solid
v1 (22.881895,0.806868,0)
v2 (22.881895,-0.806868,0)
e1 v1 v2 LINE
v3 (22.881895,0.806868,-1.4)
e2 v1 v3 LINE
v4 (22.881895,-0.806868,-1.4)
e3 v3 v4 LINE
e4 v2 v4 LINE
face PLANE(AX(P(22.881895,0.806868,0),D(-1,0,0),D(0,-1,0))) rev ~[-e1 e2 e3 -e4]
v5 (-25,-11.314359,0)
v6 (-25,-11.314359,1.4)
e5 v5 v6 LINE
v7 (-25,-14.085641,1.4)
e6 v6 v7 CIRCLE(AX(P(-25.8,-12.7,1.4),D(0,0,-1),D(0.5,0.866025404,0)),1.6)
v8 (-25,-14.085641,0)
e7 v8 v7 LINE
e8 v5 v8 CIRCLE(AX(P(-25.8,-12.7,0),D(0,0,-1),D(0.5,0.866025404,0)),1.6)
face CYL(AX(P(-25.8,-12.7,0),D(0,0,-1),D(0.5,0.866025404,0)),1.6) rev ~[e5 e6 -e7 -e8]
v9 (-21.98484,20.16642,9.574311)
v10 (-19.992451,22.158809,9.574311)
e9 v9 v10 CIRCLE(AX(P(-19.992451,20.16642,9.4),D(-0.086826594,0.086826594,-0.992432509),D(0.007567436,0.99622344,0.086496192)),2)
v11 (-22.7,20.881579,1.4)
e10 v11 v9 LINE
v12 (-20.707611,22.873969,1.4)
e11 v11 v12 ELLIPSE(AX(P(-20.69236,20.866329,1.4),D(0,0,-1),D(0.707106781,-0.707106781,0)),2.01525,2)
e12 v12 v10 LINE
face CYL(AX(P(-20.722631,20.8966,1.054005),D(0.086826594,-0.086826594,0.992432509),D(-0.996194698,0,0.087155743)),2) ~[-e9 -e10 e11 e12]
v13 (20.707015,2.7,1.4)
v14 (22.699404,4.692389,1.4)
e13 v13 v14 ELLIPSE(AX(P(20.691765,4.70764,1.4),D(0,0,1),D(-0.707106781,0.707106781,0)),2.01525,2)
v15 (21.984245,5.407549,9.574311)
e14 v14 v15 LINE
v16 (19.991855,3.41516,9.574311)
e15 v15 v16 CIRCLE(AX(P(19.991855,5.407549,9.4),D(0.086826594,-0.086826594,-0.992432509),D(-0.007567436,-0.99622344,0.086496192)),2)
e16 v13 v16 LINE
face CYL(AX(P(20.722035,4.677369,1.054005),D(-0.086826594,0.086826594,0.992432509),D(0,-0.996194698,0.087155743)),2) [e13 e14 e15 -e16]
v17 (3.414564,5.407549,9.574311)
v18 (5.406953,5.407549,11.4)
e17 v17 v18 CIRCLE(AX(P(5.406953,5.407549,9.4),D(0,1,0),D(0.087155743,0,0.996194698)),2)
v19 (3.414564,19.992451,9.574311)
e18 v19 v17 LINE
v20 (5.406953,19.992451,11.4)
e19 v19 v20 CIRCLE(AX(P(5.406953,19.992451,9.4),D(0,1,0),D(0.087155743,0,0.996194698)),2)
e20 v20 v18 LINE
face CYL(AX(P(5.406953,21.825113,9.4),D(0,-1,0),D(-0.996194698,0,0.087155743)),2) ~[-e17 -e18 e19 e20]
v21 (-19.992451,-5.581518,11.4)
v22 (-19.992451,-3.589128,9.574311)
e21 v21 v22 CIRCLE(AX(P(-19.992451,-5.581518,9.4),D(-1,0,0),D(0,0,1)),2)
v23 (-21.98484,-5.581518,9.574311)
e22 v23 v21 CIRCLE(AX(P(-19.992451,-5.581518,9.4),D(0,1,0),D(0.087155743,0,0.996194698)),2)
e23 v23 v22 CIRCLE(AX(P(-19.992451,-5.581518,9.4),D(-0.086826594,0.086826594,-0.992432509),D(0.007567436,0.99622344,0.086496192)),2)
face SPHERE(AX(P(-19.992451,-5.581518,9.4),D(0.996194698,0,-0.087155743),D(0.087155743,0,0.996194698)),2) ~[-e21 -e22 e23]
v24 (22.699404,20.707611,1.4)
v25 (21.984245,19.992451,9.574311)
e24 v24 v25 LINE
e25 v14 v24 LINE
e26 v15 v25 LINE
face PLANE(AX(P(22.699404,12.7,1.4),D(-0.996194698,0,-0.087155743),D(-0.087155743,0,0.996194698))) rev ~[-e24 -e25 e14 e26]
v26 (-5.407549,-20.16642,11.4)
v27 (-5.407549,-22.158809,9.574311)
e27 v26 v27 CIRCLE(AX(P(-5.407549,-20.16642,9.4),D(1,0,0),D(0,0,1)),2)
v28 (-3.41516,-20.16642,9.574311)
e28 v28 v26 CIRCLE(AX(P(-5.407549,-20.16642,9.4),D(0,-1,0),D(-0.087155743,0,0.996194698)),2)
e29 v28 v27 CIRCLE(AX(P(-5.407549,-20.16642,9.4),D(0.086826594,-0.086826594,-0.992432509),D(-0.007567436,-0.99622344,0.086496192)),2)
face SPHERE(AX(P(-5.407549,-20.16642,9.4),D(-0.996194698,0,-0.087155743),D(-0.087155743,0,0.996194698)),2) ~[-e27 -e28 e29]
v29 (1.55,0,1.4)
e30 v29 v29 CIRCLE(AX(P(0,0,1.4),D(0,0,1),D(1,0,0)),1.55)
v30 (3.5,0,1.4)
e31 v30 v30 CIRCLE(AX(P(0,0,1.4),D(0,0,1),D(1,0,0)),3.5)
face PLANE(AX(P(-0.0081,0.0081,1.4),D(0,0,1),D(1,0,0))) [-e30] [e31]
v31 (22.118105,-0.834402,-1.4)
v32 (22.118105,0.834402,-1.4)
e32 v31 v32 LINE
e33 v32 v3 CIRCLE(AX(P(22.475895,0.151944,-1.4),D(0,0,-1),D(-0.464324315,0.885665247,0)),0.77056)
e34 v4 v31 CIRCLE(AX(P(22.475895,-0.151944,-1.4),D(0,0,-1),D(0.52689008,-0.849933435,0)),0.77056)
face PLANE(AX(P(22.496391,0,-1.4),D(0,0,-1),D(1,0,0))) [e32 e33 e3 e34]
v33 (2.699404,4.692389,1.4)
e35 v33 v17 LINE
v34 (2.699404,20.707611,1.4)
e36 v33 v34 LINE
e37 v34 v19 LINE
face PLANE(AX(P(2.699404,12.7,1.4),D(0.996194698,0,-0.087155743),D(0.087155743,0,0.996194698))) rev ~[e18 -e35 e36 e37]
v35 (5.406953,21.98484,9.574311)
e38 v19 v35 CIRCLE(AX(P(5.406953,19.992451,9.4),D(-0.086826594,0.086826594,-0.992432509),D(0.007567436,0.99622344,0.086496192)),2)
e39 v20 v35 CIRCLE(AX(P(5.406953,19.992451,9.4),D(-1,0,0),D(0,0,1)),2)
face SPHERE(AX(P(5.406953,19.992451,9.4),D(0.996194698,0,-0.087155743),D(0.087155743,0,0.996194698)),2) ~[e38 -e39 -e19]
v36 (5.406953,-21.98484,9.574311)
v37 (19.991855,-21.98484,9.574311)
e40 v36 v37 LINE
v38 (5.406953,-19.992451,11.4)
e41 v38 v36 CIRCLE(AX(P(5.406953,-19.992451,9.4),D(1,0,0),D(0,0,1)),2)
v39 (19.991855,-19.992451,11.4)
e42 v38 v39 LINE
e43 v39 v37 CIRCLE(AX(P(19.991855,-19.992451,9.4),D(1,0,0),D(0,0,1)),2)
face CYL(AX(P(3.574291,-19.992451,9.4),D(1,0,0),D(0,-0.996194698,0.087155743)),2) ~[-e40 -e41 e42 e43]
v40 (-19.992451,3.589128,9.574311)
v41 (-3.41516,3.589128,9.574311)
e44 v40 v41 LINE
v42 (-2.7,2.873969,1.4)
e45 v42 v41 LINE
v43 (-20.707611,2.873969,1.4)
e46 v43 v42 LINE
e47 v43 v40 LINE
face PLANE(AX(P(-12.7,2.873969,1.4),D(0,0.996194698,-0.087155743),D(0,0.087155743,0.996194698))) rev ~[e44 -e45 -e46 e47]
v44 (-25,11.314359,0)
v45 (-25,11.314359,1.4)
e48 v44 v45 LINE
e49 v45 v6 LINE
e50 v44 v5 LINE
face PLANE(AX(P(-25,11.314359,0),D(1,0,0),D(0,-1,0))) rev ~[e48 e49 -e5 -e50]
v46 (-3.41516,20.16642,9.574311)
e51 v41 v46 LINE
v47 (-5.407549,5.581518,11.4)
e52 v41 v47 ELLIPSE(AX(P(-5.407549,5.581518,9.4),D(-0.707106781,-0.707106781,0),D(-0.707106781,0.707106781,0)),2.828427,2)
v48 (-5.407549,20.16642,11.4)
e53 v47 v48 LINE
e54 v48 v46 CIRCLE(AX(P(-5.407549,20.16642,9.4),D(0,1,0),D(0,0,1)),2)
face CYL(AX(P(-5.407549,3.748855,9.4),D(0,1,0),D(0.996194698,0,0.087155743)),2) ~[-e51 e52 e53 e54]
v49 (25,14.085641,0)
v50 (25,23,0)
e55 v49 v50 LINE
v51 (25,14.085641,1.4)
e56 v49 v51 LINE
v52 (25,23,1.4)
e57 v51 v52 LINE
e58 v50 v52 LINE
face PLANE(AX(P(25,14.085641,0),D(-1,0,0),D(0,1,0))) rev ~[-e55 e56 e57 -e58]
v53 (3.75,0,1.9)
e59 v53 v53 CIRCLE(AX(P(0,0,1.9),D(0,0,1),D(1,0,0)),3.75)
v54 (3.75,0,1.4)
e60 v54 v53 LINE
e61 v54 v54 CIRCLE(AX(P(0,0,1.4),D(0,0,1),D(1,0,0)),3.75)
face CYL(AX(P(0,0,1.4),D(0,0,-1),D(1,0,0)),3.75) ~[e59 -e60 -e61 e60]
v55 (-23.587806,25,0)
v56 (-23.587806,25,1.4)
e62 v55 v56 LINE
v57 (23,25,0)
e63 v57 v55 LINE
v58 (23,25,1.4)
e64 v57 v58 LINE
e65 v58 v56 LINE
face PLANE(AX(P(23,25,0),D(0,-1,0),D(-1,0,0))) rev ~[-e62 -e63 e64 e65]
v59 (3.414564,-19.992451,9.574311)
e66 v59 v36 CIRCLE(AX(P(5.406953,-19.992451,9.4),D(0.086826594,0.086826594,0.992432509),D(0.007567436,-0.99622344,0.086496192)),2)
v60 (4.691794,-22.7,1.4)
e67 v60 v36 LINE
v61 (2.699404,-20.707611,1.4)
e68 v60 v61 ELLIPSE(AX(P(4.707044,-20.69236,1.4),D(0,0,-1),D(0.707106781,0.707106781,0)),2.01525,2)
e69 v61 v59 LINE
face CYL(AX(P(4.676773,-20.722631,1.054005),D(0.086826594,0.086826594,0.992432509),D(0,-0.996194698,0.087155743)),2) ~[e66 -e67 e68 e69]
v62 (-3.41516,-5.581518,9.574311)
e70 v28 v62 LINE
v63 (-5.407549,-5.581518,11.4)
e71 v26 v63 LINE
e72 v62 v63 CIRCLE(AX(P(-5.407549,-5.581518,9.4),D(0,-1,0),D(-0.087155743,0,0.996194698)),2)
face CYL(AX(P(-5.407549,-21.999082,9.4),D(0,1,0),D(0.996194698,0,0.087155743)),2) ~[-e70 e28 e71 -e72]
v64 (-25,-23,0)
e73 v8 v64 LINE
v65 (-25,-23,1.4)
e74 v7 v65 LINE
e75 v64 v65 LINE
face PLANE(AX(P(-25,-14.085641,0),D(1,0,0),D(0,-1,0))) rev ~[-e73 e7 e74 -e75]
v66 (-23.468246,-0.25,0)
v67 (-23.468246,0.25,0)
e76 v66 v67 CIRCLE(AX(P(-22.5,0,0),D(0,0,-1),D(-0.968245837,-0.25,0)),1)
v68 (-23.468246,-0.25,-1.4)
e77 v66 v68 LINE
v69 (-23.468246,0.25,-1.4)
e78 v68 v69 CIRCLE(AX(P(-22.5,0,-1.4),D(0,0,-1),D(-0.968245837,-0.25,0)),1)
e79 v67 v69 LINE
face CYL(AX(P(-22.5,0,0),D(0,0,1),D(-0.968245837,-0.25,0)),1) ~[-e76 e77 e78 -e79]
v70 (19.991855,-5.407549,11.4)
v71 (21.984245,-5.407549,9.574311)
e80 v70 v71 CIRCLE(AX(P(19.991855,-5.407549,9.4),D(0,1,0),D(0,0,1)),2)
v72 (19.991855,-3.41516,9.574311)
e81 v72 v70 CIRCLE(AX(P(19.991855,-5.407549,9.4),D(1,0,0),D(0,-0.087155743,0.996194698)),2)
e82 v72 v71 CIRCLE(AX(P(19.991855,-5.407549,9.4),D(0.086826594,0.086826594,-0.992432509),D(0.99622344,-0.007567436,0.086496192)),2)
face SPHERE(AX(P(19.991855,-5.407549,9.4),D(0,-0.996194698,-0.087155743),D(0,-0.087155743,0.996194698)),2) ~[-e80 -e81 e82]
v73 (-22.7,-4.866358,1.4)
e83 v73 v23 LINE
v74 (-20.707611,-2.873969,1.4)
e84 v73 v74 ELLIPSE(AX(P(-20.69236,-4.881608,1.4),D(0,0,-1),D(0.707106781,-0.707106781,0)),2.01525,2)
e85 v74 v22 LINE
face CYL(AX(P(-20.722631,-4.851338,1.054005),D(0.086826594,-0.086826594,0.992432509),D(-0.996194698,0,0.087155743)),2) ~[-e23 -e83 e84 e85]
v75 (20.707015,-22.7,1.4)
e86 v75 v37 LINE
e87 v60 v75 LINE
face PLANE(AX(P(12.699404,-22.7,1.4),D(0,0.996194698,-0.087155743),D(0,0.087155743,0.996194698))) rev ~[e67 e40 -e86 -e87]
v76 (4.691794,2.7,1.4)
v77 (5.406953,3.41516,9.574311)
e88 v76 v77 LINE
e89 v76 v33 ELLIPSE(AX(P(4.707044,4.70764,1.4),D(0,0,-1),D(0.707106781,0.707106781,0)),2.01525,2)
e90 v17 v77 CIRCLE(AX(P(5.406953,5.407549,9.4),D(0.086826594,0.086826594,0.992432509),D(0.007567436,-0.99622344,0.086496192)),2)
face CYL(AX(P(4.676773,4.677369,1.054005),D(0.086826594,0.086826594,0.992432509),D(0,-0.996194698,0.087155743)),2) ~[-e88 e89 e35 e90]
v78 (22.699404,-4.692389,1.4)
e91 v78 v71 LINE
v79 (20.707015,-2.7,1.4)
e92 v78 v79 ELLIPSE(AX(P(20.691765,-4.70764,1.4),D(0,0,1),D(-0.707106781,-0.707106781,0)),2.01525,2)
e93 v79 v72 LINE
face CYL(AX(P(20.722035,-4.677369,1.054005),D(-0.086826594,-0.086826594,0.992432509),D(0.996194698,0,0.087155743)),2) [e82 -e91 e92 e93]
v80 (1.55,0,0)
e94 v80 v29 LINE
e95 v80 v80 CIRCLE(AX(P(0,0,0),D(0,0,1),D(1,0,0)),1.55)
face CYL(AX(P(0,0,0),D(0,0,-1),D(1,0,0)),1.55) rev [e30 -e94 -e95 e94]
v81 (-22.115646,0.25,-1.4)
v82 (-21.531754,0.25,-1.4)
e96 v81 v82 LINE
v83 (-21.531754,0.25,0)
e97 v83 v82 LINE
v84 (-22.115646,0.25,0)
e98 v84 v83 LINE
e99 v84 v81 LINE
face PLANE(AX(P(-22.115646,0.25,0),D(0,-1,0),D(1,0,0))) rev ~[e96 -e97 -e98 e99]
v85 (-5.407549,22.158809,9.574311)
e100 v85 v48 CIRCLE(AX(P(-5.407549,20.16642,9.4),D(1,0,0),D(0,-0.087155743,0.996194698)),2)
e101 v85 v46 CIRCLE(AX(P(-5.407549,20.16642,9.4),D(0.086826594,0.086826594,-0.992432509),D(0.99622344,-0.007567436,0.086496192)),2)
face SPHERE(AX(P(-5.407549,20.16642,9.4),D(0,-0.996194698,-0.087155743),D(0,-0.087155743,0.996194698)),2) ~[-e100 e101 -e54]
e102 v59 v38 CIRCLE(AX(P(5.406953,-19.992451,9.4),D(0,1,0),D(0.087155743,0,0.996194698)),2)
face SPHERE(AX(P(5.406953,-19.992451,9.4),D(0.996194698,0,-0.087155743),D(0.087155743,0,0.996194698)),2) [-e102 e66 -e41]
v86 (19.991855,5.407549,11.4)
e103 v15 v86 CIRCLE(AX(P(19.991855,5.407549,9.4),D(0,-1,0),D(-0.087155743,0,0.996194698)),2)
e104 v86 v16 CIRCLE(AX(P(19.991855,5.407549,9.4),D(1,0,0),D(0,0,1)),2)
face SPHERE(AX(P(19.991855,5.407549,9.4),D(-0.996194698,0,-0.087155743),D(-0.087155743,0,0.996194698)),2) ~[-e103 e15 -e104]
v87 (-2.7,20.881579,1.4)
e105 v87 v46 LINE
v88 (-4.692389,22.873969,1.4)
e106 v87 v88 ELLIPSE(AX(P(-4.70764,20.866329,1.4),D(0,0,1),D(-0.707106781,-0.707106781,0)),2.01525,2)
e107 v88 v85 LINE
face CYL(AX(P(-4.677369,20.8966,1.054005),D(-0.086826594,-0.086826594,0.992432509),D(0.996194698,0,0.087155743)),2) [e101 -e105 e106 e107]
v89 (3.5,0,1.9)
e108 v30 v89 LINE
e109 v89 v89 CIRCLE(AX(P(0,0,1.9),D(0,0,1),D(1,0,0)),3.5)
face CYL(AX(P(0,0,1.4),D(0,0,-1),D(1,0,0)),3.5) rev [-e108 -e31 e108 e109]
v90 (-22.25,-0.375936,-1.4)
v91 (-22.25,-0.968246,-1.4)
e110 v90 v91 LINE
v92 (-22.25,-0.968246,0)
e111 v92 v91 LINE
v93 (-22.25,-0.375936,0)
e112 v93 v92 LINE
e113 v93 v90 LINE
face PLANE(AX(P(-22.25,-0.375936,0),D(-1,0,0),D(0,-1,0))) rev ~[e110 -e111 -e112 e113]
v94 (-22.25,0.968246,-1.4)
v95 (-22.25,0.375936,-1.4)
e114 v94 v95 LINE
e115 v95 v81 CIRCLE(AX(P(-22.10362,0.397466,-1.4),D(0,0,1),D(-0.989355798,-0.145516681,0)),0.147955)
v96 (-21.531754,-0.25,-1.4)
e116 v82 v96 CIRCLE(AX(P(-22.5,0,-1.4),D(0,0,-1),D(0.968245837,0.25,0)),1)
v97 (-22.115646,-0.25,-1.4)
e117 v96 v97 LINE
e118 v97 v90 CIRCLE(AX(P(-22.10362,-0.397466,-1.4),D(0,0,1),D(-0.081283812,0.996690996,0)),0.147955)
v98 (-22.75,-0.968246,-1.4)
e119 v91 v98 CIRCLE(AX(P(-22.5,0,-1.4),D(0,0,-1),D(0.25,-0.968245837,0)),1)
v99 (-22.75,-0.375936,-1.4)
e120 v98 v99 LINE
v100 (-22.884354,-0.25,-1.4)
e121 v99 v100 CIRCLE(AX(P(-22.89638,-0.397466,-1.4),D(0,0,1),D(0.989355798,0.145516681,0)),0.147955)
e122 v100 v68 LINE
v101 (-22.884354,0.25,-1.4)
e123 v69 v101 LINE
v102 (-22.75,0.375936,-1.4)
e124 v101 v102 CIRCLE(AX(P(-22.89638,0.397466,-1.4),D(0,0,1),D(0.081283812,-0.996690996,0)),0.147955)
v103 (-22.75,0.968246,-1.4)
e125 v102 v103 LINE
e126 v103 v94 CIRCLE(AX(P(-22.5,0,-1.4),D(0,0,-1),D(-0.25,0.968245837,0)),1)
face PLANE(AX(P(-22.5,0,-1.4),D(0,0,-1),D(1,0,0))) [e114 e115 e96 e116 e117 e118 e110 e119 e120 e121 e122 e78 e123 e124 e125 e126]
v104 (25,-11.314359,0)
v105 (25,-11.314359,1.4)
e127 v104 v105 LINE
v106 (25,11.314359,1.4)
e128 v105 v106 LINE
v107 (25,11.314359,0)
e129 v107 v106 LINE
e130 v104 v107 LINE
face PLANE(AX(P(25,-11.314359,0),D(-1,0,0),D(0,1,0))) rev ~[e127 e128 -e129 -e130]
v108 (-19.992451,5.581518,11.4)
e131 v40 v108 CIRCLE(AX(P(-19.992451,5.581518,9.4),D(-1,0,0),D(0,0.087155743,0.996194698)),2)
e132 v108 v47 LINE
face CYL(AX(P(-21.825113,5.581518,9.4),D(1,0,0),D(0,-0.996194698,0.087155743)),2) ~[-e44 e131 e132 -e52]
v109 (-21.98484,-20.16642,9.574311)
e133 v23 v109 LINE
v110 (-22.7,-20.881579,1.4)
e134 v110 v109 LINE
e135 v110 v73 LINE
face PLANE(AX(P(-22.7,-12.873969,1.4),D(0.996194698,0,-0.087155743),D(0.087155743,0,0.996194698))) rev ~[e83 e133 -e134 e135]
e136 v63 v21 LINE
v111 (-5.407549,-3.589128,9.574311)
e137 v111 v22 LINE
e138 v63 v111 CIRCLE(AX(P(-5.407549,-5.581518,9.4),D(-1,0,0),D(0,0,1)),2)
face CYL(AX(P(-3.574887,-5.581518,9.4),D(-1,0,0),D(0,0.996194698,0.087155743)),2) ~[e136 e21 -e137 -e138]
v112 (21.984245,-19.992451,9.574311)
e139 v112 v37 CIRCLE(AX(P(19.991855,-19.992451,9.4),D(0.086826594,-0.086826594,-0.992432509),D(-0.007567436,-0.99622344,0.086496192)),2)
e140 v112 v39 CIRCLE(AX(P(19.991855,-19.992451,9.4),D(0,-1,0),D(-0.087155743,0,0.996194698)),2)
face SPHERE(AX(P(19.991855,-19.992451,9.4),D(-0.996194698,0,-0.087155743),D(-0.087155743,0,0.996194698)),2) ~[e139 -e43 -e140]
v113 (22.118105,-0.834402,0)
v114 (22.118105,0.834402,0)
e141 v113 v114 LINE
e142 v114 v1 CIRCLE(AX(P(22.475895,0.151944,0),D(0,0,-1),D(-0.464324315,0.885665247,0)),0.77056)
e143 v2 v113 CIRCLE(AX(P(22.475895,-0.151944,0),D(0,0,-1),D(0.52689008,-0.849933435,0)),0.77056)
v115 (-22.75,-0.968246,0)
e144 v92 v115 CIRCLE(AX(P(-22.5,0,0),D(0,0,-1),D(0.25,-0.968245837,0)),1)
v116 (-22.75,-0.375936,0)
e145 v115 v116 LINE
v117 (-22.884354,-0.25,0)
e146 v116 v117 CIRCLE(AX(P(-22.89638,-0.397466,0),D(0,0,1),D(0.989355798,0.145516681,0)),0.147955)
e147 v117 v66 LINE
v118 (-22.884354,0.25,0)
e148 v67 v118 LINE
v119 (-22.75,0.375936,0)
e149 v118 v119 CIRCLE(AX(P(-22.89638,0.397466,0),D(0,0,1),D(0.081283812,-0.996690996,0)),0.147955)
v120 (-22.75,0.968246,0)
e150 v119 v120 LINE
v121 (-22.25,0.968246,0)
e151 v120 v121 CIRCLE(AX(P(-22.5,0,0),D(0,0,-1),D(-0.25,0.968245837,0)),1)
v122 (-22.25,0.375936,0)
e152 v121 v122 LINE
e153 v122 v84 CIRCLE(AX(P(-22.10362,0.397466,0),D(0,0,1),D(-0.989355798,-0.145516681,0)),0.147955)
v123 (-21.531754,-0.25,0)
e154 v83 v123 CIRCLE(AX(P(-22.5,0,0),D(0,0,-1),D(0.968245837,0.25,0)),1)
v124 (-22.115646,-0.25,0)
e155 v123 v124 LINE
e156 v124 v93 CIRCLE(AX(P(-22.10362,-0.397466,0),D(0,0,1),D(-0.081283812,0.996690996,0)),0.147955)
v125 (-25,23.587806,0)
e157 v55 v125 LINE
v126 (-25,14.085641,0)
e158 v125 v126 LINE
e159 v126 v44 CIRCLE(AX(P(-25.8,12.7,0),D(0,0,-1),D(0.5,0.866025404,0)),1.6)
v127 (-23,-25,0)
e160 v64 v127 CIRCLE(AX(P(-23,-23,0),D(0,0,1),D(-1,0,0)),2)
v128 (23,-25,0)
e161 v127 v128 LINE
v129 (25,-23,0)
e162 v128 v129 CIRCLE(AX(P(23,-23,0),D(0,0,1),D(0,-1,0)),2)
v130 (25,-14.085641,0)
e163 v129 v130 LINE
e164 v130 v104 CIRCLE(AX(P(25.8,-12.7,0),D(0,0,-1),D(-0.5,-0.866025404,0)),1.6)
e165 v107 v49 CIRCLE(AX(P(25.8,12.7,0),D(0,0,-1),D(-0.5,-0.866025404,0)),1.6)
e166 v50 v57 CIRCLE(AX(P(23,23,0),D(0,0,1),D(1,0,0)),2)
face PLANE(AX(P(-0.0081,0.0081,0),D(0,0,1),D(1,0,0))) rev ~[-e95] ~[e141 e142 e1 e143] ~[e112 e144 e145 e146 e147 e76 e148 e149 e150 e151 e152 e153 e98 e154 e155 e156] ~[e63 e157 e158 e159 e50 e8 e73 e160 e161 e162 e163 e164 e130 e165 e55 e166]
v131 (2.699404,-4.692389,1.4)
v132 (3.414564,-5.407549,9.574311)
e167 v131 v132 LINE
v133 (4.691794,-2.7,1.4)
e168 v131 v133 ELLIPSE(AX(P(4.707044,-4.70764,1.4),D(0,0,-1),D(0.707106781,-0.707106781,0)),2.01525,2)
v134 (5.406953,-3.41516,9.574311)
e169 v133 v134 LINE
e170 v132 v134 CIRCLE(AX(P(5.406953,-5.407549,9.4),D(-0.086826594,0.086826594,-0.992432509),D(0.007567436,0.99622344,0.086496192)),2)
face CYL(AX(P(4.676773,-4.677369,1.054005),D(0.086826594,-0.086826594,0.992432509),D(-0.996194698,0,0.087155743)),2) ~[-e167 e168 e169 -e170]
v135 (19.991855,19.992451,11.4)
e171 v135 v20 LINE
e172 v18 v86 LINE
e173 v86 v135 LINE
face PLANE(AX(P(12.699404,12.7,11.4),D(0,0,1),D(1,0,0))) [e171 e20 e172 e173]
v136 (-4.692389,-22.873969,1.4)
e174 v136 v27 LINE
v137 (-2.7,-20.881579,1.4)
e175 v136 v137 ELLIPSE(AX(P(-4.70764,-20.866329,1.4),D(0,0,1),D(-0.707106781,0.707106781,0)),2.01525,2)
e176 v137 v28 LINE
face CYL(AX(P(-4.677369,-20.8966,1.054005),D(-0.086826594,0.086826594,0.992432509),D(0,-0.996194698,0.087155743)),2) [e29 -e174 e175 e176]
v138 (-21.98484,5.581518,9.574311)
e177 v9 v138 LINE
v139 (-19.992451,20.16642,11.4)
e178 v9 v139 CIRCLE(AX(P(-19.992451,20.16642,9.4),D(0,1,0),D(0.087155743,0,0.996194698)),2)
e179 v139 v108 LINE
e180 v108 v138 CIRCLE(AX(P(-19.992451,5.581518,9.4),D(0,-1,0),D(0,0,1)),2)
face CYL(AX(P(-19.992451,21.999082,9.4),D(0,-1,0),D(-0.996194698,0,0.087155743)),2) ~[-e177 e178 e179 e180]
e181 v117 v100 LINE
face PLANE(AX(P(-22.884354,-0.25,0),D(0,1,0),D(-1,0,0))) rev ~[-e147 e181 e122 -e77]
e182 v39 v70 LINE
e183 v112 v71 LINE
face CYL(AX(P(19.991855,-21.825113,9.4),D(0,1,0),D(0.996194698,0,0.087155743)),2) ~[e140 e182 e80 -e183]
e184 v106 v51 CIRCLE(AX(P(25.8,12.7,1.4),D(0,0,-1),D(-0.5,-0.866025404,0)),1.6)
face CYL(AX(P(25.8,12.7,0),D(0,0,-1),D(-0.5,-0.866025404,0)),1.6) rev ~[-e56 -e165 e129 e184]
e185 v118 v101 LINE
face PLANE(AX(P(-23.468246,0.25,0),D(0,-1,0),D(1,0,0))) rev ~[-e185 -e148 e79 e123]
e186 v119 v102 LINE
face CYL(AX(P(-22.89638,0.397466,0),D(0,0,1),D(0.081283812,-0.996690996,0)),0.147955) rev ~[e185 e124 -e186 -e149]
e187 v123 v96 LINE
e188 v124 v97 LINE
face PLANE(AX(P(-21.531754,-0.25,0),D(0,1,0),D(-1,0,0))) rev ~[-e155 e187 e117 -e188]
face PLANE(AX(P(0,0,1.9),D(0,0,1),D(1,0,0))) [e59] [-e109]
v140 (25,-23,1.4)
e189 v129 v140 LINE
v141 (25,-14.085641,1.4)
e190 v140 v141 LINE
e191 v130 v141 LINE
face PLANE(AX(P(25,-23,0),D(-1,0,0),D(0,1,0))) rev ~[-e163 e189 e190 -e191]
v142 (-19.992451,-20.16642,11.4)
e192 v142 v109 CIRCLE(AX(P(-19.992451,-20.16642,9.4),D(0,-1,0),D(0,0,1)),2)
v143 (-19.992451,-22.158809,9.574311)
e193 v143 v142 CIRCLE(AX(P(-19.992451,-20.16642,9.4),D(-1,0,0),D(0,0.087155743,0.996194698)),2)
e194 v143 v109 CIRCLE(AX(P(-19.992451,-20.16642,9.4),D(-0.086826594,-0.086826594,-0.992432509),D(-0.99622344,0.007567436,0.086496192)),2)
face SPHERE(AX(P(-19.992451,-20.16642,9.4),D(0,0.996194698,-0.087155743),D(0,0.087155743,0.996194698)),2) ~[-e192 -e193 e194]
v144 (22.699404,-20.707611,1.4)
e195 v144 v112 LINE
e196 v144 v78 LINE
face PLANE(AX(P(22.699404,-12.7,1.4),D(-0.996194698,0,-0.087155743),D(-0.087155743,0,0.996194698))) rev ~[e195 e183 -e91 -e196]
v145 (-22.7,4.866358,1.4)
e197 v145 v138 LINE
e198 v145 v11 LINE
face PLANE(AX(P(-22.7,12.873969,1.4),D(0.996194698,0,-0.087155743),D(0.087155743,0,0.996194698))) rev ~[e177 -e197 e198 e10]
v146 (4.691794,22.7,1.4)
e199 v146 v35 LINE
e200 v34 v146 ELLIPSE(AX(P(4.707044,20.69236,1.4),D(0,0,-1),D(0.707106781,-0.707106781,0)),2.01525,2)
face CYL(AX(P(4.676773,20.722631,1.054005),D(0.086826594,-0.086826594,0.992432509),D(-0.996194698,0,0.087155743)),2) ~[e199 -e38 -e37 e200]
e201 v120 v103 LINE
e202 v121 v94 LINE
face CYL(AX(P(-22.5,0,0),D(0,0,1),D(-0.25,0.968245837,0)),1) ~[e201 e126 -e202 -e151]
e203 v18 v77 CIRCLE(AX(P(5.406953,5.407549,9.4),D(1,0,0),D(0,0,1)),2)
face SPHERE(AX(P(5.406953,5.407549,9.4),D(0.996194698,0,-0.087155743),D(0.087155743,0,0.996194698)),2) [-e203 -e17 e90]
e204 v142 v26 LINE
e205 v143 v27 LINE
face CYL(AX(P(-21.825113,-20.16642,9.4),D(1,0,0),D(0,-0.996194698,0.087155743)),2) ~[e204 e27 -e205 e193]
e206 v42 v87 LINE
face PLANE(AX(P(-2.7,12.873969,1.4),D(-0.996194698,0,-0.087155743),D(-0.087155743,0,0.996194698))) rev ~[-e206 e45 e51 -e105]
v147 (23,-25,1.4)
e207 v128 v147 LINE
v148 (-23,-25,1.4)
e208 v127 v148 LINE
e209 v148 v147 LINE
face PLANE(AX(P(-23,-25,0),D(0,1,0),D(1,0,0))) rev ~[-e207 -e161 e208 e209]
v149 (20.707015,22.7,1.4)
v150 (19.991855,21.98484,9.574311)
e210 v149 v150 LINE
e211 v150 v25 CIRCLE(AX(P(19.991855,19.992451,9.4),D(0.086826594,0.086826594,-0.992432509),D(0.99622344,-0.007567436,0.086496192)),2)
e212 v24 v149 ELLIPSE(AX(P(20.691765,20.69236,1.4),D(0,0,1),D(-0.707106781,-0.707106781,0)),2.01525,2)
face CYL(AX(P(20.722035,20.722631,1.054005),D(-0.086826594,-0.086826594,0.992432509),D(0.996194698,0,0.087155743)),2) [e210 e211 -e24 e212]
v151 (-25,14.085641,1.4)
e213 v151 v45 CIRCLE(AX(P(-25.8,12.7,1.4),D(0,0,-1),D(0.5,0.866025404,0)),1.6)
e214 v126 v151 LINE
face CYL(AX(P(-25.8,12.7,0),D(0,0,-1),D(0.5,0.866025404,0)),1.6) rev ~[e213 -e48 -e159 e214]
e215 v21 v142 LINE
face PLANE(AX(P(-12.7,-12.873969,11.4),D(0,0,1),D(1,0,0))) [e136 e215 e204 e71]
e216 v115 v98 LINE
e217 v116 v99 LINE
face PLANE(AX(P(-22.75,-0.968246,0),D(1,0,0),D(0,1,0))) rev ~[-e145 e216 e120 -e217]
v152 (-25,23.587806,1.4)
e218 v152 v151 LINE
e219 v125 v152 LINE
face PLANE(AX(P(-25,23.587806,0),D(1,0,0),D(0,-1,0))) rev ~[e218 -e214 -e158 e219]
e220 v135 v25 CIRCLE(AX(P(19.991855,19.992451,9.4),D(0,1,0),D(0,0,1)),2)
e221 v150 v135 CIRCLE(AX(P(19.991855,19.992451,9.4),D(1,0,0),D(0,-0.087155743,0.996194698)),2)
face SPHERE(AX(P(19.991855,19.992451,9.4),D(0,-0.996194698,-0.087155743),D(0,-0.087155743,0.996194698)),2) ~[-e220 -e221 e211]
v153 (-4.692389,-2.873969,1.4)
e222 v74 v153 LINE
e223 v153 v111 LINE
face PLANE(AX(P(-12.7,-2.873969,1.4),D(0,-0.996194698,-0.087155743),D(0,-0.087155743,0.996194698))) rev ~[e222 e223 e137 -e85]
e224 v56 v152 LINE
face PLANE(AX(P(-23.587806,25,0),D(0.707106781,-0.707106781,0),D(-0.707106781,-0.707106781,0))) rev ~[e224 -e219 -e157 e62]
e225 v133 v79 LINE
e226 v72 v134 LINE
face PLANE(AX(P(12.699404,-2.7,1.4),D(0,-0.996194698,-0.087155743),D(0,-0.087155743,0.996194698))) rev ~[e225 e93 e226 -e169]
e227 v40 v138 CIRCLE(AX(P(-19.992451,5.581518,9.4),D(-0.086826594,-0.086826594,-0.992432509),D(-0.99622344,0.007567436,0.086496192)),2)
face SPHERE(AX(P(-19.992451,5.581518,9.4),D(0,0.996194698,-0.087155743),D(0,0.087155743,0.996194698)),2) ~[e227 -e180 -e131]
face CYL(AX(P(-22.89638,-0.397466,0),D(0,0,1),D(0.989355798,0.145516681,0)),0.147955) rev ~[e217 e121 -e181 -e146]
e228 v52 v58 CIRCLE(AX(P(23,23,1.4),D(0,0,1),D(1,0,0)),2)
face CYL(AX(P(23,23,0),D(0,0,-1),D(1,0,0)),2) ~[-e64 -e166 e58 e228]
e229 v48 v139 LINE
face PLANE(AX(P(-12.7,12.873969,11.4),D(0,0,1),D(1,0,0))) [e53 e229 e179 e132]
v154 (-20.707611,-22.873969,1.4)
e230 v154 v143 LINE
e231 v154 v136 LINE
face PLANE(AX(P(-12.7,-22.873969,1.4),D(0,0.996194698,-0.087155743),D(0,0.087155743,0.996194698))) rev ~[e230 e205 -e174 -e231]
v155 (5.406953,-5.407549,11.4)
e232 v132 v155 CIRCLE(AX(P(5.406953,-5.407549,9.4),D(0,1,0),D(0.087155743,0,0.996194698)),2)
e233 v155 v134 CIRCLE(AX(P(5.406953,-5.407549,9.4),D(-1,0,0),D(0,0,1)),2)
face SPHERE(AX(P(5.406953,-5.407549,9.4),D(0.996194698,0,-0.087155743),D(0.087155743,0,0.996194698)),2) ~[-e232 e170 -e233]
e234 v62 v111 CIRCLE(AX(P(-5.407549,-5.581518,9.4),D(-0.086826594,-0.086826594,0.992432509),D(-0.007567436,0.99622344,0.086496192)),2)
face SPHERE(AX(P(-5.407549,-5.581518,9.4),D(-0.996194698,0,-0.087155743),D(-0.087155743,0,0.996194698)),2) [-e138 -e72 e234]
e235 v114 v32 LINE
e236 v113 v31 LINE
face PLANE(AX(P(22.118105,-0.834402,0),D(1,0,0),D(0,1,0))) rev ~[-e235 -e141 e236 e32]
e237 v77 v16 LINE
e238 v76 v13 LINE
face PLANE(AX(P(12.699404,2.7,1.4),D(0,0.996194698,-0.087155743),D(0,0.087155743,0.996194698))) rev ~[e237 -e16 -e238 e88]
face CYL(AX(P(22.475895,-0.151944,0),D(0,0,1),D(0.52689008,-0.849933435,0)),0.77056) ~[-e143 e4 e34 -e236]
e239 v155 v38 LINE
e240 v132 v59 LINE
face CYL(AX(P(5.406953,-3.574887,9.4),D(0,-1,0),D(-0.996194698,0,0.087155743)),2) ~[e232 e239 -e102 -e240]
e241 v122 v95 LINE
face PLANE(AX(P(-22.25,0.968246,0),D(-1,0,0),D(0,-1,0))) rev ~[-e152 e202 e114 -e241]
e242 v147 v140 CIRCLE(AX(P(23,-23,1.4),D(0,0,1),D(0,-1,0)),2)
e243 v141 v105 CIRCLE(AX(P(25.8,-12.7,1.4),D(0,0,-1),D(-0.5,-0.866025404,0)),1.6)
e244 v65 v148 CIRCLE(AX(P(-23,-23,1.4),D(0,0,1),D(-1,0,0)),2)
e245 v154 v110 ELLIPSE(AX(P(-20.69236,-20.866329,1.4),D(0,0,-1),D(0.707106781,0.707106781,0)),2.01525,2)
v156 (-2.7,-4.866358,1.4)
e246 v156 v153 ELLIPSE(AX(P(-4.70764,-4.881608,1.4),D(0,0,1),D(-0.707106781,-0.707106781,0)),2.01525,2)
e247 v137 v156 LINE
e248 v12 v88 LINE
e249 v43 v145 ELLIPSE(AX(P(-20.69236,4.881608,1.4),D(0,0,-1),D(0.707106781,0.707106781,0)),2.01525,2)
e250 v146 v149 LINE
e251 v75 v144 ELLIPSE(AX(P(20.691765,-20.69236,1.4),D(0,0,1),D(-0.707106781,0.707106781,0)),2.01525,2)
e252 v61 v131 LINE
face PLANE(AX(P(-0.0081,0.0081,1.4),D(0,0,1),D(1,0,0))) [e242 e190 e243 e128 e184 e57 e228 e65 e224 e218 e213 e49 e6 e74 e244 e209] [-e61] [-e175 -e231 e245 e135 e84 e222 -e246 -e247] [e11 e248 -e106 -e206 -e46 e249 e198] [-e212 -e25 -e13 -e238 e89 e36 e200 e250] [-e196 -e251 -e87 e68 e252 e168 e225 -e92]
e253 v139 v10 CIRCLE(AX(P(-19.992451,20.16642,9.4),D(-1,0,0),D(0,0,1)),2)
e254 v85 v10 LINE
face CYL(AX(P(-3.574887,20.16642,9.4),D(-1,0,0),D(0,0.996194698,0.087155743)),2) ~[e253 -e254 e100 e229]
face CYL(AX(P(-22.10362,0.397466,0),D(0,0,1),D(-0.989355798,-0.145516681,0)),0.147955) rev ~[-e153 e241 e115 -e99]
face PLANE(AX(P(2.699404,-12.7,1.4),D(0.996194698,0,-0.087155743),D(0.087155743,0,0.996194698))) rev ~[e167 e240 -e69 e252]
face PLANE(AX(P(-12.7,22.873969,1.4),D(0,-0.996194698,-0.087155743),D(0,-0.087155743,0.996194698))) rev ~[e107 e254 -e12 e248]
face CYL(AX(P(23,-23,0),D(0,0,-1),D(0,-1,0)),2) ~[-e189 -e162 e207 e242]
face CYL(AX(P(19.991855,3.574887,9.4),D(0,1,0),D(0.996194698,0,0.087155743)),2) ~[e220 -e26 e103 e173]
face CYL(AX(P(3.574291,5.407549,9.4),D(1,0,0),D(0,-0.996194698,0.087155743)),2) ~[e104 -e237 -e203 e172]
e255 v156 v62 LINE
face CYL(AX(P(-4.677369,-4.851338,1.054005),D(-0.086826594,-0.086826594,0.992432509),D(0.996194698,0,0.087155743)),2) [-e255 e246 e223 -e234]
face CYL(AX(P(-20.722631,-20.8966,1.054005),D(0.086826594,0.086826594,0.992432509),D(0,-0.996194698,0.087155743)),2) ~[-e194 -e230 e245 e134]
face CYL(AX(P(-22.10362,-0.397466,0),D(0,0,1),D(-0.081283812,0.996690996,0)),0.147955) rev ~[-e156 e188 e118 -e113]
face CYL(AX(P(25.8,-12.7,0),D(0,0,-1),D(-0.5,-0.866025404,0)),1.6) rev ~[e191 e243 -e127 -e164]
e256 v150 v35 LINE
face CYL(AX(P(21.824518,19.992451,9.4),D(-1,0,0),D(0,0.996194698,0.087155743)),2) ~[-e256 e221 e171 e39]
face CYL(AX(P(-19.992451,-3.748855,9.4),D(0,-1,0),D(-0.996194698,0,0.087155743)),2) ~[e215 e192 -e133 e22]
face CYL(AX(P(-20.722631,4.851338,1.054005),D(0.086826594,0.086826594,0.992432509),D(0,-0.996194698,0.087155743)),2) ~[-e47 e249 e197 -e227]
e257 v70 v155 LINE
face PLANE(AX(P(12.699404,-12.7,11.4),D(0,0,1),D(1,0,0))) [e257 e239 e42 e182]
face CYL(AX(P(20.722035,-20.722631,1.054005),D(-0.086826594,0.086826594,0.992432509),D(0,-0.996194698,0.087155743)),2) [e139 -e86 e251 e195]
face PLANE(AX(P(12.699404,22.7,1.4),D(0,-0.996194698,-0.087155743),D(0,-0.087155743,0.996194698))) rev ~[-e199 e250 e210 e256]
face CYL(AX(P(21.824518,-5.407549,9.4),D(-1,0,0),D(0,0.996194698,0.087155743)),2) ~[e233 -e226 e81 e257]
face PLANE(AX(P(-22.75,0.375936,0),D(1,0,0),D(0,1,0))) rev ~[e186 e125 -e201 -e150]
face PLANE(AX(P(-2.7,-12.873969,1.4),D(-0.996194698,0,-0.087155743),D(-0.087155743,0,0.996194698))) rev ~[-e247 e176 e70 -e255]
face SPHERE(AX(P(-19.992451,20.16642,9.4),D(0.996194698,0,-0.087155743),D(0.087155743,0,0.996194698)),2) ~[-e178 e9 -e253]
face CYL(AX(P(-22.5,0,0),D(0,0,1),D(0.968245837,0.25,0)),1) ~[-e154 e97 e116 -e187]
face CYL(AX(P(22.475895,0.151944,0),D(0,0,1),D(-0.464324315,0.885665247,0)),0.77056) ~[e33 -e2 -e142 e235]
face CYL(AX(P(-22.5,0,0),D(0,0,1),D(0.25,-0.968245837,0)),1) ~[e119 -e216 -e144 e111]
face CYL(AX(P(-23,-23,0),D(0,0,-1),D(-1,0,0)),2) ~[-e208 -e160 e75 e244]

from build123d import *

# Parameters (mm, degrees)
F0_R     = 1.55
F1_DEPTH = 1.4
F2_W     = 20
F2_H     = 20
F3_DEPTH = 10
F3_TAPER = 5
F4_R     = 3.75
F4_R_2   = 3.5
F5_DEPTH = 0.5
F7_DEPTH = 1.4
F8_R     = 2


with BuildPart() as f1:
    # F0 (on Top) → F1 (new body)
    with BuildSketch(Plane.XY):
        with BuildLine():
            Line((23, 25), (-23.5878064872, 25))
            Line((-23.5878064872, 25), (-25, 23.5878064872))
            Line((-25, 23.5878064872), (-25, 14.0856406461))
            ThreePointArc((-25, 14.0856406461), (-24.2, 12.7), (-25, 11.3143593539))
            Line((-25, 11.3143593539), (-25, -11.3143593539))
            ThreePointArc((-25, -11.3143593539), (-24.2, -12.7), (-25, -14.0856406461))
            Line((-25, -14.0856406461), (-25, -23))
            ThreePointArc((-25, -23), (-24.4142135624, -24.4142135624), (-23, -25))
            Line((-23, -25), (23, -25))
            ThreePointArc((23, -25), (24.4142135624, -24.4142135624), (25, -23))
            Line((25, -23), (25, -14.0856406461))
            ThreePointArc((25, -14.0856406461), (24.2, -12.7), (25, -11.3143593539))
            Line((25, -11.3143593539), (25, 11.3143593539))
            ThreePointArc((25, 11.3143593539), (24.2, 12.7), (25, 14.0856406461))
            Line((25, 14.0856406461), (25, 23))
            ThreePointArc((25, 23), (24.4142135624, 24.4142135624), (23, 25))
        make_face()
        Circle(F0_R, mode=Mode.SUBTRACT)
    extrude(amount=F1_DEPTH)

    # F2 (on face) → F3 (join)
    with BuildSketch(Plane.XY.offset(1.4)):
        with Locations((-12.7, 12.8739687322)):
            Rectangle(F2_W, F2_H)
        with Locations((12.6994042229, 12.7)):
            Rectangle(F2_W, F2_H)
        with Locations((12.6994042229, -12.7)):
            Rectangle(F2_W, F2_H)
        with Locations((-12.7, -12.8739687322)):
            Rectangle(F2_W, F2_H)
    extrude(amount=F3_DEPTH, taper=F3_TAPER)

    # F4 (on face) → F5 (join)
    with BuildSketch(Plane.XY.offset(1.4)):
        Circle(F4_R)
        Circle(F4_R_2, mode=Mode.SUBTRACT)
    extrude(amount=F5_DEPTH)

    # F6 (on face) → F7 (join)
    with BuildSketch(Plane(origin=(0, 0, 0), x_dir=(1, 0, 0), z_dir=(0, 0, -1))):
        with BuildLine():
            Line((-22.8843539953, 0.25), (-23.4682458366, 0.25))
            ThreePointArc((-23.4682458366, 0.25), (-23.5, 0), (-23.4682458366, -0.25))
            Line((-23.4682458366, -0.25), (-22.8843539953, -0.25))
            ThreePointArc((-22.8843539953, -0.25), (-22.7951967548, -0.2895183078), (-22.75, -0.3759356876))
            ThreePointArc((-22.75, -0.3759356876), (-22.7484251347, -0.397465641), (-22.75, -0.4189955944))
            Line((-22.75, -0.4189955944), (-22.75, -0.9682458366))
            ThreePointArc((-22.75, -0.9682458366), (-22.5, -1), (-22.25, -0.9682458366))
            Line((-22.25, -0.9682458366), (-22.25, -0.4189955944))
            ThreePointArc((-22.25, -0.4189955944), (-22.2515748653, -0.397465641), (-22.25, -0.3759356876))
            ThreePointArc((-22.25, -0.3759356876), (-22.2048032452, -0.2895183078), (-22.1156460047, -0.25))
            Line((-22.1156460047, -0.25), (-21.5317541634, -0.25))
            ThreePointArc((-21.5317541634, -0.25), (-21.5, 0), (-21.5317541634, 0.25))
            Line((-21.5317541634, 0.25), (-22.1156460047, 0.25))
            ThreePointArc((-22.1156460047, 0.25), (-22.2048032452, 0.2895183078), (-22.25, 0.3759356876))
            ThreePointArc((-22.25, 0.3759356876), (-22.2515748653, 0.397465641), (-22.25, 0.4189955944))
            Line((-22.25, 0.4189955944), (-22.25, 0.9682458366))
            ThreePointArc((-22.25, 0.9682458366), (-22.5, 1), (-22.75, 0.9682458366))
            Line((-22.75, 0.9682458366), (-22.75, 0.4189955944))
            ThreePointArc((-22.75, 0.4189955944), (-22.7484251347, 0.397465641), (-22.75, 0.3759356876))
            ThreePointArc((-22.75, 0.3759356876), (-22.7951967548, 0.2895183078), (-22.8843539953, 0.25))
        make_face()
        with BuildLine():
            Line((-22.75, 0.4189955944), (-22.75, 0.3759356876))
            ThreePointArc((-22.75, 0.3759356876), (-22.7484251347, 0.397465641), (-22.75, 0.4189955944))
        make_face()
        with BuildLine():
            ThreePointArc((-22.75, -0.4189955944), (-22.7484251347, -0.397465641), (-22.75, -0.3759356876))
            Line((-22.75, -0.3759356876), (-22.75, -0.4189955944))
        make_face()
        with BuildLine():
            Line((-22.25, 0.3759356876), (-22.25, 0.4189955944))
            ThreePointArc((-22.25, 0.4189955944), (-22.2515748653, 0.397465641), (-22.25, 0.3759356876))
        make_face()
        with BuildLine():
            ThreePointArc((-22.25, -0.3759356876), (-22.2515748653, -0.397465641), (-22.25, -0.4189955944))
            Line((-22.25, -0.4189955944), (-22.25, -0.3759356876))
        make_face()
        with BuildLine():
            Line((22.1181050964, 0.8344019427), (22.1181050964, -0.8344019427))
            ThreePointArc((22.1181050964, -0.8344019427), (22.5036541776, -0.9220035064), (22.8818949036, -0.8068684502))
            Line((22.8818949036, -0.8068684502), (22.8818949036, 0.8068684502))
            ThreePointArc((22.8818949036, 0.8068684502), (22.5036541776, 0.9220035064), (22.1181050964, 0.8344019427))
        make_face()
    extrude(amount=F7_DEPTH)

    # F8
    f8_edges = [f1.edges().sort_by_distance(p)[0] for p in [
        (-3.574887, 12.873969, 11.4),
        (-12.7, 21.999082, 11.4),
        (-21.825113, 12.873969, 11.4),
        (-12.7, 3.748855, 11.4),
        (12.699404, 3.574887, 11.4),
        (21.824518, 12.7, 11.4),
        (12.699404, 21.825113, 11.4),
        (3.574291, 12.7, 11.4),
        (12.699404, -21.825113, 11.4),
        (21.824518, -12.7, 11.4),
        (12.699404, -3.574887, 11.4),
        (3.574291, -12.7, 11.4),
        (-12.7, -3.748855, 11.4),
        (-21.825113, -12.873969, 11.4),
        (-12.7, -21.999082, 11.4),
        (-3.574887, -12.873969, 11.4),
        (-22.262557, 3.311412, 6.4),
        (-22.262557, -3.311412, 6.4),
        (-22.262557, -22.436525, 6.4),
        (-3.137443, -22.436525, 6.4),
        (3.136848, -22.262557, 6.4),
        (22.261961, -22.262557, 6.4),
        (3.136848, 3.137443, 6.4),
        (22.261961, 3.137443, 6.4),
        (22.261961, 22.262557, 6.4),
        (3.136848, 22.262557, 6.4),
        (-3.137443, 22.436525, 6.4),
        (-22.262557, 22.436525, 6.4),
        (22.261961, -3.137443, 6.4),
        (3.136848, -3.137443, 6.4),
        (-3.137443, -3.311412, 6.4),
    ]]
    fillet(f8_edges, radius=F8_R)


solid = f1.part
